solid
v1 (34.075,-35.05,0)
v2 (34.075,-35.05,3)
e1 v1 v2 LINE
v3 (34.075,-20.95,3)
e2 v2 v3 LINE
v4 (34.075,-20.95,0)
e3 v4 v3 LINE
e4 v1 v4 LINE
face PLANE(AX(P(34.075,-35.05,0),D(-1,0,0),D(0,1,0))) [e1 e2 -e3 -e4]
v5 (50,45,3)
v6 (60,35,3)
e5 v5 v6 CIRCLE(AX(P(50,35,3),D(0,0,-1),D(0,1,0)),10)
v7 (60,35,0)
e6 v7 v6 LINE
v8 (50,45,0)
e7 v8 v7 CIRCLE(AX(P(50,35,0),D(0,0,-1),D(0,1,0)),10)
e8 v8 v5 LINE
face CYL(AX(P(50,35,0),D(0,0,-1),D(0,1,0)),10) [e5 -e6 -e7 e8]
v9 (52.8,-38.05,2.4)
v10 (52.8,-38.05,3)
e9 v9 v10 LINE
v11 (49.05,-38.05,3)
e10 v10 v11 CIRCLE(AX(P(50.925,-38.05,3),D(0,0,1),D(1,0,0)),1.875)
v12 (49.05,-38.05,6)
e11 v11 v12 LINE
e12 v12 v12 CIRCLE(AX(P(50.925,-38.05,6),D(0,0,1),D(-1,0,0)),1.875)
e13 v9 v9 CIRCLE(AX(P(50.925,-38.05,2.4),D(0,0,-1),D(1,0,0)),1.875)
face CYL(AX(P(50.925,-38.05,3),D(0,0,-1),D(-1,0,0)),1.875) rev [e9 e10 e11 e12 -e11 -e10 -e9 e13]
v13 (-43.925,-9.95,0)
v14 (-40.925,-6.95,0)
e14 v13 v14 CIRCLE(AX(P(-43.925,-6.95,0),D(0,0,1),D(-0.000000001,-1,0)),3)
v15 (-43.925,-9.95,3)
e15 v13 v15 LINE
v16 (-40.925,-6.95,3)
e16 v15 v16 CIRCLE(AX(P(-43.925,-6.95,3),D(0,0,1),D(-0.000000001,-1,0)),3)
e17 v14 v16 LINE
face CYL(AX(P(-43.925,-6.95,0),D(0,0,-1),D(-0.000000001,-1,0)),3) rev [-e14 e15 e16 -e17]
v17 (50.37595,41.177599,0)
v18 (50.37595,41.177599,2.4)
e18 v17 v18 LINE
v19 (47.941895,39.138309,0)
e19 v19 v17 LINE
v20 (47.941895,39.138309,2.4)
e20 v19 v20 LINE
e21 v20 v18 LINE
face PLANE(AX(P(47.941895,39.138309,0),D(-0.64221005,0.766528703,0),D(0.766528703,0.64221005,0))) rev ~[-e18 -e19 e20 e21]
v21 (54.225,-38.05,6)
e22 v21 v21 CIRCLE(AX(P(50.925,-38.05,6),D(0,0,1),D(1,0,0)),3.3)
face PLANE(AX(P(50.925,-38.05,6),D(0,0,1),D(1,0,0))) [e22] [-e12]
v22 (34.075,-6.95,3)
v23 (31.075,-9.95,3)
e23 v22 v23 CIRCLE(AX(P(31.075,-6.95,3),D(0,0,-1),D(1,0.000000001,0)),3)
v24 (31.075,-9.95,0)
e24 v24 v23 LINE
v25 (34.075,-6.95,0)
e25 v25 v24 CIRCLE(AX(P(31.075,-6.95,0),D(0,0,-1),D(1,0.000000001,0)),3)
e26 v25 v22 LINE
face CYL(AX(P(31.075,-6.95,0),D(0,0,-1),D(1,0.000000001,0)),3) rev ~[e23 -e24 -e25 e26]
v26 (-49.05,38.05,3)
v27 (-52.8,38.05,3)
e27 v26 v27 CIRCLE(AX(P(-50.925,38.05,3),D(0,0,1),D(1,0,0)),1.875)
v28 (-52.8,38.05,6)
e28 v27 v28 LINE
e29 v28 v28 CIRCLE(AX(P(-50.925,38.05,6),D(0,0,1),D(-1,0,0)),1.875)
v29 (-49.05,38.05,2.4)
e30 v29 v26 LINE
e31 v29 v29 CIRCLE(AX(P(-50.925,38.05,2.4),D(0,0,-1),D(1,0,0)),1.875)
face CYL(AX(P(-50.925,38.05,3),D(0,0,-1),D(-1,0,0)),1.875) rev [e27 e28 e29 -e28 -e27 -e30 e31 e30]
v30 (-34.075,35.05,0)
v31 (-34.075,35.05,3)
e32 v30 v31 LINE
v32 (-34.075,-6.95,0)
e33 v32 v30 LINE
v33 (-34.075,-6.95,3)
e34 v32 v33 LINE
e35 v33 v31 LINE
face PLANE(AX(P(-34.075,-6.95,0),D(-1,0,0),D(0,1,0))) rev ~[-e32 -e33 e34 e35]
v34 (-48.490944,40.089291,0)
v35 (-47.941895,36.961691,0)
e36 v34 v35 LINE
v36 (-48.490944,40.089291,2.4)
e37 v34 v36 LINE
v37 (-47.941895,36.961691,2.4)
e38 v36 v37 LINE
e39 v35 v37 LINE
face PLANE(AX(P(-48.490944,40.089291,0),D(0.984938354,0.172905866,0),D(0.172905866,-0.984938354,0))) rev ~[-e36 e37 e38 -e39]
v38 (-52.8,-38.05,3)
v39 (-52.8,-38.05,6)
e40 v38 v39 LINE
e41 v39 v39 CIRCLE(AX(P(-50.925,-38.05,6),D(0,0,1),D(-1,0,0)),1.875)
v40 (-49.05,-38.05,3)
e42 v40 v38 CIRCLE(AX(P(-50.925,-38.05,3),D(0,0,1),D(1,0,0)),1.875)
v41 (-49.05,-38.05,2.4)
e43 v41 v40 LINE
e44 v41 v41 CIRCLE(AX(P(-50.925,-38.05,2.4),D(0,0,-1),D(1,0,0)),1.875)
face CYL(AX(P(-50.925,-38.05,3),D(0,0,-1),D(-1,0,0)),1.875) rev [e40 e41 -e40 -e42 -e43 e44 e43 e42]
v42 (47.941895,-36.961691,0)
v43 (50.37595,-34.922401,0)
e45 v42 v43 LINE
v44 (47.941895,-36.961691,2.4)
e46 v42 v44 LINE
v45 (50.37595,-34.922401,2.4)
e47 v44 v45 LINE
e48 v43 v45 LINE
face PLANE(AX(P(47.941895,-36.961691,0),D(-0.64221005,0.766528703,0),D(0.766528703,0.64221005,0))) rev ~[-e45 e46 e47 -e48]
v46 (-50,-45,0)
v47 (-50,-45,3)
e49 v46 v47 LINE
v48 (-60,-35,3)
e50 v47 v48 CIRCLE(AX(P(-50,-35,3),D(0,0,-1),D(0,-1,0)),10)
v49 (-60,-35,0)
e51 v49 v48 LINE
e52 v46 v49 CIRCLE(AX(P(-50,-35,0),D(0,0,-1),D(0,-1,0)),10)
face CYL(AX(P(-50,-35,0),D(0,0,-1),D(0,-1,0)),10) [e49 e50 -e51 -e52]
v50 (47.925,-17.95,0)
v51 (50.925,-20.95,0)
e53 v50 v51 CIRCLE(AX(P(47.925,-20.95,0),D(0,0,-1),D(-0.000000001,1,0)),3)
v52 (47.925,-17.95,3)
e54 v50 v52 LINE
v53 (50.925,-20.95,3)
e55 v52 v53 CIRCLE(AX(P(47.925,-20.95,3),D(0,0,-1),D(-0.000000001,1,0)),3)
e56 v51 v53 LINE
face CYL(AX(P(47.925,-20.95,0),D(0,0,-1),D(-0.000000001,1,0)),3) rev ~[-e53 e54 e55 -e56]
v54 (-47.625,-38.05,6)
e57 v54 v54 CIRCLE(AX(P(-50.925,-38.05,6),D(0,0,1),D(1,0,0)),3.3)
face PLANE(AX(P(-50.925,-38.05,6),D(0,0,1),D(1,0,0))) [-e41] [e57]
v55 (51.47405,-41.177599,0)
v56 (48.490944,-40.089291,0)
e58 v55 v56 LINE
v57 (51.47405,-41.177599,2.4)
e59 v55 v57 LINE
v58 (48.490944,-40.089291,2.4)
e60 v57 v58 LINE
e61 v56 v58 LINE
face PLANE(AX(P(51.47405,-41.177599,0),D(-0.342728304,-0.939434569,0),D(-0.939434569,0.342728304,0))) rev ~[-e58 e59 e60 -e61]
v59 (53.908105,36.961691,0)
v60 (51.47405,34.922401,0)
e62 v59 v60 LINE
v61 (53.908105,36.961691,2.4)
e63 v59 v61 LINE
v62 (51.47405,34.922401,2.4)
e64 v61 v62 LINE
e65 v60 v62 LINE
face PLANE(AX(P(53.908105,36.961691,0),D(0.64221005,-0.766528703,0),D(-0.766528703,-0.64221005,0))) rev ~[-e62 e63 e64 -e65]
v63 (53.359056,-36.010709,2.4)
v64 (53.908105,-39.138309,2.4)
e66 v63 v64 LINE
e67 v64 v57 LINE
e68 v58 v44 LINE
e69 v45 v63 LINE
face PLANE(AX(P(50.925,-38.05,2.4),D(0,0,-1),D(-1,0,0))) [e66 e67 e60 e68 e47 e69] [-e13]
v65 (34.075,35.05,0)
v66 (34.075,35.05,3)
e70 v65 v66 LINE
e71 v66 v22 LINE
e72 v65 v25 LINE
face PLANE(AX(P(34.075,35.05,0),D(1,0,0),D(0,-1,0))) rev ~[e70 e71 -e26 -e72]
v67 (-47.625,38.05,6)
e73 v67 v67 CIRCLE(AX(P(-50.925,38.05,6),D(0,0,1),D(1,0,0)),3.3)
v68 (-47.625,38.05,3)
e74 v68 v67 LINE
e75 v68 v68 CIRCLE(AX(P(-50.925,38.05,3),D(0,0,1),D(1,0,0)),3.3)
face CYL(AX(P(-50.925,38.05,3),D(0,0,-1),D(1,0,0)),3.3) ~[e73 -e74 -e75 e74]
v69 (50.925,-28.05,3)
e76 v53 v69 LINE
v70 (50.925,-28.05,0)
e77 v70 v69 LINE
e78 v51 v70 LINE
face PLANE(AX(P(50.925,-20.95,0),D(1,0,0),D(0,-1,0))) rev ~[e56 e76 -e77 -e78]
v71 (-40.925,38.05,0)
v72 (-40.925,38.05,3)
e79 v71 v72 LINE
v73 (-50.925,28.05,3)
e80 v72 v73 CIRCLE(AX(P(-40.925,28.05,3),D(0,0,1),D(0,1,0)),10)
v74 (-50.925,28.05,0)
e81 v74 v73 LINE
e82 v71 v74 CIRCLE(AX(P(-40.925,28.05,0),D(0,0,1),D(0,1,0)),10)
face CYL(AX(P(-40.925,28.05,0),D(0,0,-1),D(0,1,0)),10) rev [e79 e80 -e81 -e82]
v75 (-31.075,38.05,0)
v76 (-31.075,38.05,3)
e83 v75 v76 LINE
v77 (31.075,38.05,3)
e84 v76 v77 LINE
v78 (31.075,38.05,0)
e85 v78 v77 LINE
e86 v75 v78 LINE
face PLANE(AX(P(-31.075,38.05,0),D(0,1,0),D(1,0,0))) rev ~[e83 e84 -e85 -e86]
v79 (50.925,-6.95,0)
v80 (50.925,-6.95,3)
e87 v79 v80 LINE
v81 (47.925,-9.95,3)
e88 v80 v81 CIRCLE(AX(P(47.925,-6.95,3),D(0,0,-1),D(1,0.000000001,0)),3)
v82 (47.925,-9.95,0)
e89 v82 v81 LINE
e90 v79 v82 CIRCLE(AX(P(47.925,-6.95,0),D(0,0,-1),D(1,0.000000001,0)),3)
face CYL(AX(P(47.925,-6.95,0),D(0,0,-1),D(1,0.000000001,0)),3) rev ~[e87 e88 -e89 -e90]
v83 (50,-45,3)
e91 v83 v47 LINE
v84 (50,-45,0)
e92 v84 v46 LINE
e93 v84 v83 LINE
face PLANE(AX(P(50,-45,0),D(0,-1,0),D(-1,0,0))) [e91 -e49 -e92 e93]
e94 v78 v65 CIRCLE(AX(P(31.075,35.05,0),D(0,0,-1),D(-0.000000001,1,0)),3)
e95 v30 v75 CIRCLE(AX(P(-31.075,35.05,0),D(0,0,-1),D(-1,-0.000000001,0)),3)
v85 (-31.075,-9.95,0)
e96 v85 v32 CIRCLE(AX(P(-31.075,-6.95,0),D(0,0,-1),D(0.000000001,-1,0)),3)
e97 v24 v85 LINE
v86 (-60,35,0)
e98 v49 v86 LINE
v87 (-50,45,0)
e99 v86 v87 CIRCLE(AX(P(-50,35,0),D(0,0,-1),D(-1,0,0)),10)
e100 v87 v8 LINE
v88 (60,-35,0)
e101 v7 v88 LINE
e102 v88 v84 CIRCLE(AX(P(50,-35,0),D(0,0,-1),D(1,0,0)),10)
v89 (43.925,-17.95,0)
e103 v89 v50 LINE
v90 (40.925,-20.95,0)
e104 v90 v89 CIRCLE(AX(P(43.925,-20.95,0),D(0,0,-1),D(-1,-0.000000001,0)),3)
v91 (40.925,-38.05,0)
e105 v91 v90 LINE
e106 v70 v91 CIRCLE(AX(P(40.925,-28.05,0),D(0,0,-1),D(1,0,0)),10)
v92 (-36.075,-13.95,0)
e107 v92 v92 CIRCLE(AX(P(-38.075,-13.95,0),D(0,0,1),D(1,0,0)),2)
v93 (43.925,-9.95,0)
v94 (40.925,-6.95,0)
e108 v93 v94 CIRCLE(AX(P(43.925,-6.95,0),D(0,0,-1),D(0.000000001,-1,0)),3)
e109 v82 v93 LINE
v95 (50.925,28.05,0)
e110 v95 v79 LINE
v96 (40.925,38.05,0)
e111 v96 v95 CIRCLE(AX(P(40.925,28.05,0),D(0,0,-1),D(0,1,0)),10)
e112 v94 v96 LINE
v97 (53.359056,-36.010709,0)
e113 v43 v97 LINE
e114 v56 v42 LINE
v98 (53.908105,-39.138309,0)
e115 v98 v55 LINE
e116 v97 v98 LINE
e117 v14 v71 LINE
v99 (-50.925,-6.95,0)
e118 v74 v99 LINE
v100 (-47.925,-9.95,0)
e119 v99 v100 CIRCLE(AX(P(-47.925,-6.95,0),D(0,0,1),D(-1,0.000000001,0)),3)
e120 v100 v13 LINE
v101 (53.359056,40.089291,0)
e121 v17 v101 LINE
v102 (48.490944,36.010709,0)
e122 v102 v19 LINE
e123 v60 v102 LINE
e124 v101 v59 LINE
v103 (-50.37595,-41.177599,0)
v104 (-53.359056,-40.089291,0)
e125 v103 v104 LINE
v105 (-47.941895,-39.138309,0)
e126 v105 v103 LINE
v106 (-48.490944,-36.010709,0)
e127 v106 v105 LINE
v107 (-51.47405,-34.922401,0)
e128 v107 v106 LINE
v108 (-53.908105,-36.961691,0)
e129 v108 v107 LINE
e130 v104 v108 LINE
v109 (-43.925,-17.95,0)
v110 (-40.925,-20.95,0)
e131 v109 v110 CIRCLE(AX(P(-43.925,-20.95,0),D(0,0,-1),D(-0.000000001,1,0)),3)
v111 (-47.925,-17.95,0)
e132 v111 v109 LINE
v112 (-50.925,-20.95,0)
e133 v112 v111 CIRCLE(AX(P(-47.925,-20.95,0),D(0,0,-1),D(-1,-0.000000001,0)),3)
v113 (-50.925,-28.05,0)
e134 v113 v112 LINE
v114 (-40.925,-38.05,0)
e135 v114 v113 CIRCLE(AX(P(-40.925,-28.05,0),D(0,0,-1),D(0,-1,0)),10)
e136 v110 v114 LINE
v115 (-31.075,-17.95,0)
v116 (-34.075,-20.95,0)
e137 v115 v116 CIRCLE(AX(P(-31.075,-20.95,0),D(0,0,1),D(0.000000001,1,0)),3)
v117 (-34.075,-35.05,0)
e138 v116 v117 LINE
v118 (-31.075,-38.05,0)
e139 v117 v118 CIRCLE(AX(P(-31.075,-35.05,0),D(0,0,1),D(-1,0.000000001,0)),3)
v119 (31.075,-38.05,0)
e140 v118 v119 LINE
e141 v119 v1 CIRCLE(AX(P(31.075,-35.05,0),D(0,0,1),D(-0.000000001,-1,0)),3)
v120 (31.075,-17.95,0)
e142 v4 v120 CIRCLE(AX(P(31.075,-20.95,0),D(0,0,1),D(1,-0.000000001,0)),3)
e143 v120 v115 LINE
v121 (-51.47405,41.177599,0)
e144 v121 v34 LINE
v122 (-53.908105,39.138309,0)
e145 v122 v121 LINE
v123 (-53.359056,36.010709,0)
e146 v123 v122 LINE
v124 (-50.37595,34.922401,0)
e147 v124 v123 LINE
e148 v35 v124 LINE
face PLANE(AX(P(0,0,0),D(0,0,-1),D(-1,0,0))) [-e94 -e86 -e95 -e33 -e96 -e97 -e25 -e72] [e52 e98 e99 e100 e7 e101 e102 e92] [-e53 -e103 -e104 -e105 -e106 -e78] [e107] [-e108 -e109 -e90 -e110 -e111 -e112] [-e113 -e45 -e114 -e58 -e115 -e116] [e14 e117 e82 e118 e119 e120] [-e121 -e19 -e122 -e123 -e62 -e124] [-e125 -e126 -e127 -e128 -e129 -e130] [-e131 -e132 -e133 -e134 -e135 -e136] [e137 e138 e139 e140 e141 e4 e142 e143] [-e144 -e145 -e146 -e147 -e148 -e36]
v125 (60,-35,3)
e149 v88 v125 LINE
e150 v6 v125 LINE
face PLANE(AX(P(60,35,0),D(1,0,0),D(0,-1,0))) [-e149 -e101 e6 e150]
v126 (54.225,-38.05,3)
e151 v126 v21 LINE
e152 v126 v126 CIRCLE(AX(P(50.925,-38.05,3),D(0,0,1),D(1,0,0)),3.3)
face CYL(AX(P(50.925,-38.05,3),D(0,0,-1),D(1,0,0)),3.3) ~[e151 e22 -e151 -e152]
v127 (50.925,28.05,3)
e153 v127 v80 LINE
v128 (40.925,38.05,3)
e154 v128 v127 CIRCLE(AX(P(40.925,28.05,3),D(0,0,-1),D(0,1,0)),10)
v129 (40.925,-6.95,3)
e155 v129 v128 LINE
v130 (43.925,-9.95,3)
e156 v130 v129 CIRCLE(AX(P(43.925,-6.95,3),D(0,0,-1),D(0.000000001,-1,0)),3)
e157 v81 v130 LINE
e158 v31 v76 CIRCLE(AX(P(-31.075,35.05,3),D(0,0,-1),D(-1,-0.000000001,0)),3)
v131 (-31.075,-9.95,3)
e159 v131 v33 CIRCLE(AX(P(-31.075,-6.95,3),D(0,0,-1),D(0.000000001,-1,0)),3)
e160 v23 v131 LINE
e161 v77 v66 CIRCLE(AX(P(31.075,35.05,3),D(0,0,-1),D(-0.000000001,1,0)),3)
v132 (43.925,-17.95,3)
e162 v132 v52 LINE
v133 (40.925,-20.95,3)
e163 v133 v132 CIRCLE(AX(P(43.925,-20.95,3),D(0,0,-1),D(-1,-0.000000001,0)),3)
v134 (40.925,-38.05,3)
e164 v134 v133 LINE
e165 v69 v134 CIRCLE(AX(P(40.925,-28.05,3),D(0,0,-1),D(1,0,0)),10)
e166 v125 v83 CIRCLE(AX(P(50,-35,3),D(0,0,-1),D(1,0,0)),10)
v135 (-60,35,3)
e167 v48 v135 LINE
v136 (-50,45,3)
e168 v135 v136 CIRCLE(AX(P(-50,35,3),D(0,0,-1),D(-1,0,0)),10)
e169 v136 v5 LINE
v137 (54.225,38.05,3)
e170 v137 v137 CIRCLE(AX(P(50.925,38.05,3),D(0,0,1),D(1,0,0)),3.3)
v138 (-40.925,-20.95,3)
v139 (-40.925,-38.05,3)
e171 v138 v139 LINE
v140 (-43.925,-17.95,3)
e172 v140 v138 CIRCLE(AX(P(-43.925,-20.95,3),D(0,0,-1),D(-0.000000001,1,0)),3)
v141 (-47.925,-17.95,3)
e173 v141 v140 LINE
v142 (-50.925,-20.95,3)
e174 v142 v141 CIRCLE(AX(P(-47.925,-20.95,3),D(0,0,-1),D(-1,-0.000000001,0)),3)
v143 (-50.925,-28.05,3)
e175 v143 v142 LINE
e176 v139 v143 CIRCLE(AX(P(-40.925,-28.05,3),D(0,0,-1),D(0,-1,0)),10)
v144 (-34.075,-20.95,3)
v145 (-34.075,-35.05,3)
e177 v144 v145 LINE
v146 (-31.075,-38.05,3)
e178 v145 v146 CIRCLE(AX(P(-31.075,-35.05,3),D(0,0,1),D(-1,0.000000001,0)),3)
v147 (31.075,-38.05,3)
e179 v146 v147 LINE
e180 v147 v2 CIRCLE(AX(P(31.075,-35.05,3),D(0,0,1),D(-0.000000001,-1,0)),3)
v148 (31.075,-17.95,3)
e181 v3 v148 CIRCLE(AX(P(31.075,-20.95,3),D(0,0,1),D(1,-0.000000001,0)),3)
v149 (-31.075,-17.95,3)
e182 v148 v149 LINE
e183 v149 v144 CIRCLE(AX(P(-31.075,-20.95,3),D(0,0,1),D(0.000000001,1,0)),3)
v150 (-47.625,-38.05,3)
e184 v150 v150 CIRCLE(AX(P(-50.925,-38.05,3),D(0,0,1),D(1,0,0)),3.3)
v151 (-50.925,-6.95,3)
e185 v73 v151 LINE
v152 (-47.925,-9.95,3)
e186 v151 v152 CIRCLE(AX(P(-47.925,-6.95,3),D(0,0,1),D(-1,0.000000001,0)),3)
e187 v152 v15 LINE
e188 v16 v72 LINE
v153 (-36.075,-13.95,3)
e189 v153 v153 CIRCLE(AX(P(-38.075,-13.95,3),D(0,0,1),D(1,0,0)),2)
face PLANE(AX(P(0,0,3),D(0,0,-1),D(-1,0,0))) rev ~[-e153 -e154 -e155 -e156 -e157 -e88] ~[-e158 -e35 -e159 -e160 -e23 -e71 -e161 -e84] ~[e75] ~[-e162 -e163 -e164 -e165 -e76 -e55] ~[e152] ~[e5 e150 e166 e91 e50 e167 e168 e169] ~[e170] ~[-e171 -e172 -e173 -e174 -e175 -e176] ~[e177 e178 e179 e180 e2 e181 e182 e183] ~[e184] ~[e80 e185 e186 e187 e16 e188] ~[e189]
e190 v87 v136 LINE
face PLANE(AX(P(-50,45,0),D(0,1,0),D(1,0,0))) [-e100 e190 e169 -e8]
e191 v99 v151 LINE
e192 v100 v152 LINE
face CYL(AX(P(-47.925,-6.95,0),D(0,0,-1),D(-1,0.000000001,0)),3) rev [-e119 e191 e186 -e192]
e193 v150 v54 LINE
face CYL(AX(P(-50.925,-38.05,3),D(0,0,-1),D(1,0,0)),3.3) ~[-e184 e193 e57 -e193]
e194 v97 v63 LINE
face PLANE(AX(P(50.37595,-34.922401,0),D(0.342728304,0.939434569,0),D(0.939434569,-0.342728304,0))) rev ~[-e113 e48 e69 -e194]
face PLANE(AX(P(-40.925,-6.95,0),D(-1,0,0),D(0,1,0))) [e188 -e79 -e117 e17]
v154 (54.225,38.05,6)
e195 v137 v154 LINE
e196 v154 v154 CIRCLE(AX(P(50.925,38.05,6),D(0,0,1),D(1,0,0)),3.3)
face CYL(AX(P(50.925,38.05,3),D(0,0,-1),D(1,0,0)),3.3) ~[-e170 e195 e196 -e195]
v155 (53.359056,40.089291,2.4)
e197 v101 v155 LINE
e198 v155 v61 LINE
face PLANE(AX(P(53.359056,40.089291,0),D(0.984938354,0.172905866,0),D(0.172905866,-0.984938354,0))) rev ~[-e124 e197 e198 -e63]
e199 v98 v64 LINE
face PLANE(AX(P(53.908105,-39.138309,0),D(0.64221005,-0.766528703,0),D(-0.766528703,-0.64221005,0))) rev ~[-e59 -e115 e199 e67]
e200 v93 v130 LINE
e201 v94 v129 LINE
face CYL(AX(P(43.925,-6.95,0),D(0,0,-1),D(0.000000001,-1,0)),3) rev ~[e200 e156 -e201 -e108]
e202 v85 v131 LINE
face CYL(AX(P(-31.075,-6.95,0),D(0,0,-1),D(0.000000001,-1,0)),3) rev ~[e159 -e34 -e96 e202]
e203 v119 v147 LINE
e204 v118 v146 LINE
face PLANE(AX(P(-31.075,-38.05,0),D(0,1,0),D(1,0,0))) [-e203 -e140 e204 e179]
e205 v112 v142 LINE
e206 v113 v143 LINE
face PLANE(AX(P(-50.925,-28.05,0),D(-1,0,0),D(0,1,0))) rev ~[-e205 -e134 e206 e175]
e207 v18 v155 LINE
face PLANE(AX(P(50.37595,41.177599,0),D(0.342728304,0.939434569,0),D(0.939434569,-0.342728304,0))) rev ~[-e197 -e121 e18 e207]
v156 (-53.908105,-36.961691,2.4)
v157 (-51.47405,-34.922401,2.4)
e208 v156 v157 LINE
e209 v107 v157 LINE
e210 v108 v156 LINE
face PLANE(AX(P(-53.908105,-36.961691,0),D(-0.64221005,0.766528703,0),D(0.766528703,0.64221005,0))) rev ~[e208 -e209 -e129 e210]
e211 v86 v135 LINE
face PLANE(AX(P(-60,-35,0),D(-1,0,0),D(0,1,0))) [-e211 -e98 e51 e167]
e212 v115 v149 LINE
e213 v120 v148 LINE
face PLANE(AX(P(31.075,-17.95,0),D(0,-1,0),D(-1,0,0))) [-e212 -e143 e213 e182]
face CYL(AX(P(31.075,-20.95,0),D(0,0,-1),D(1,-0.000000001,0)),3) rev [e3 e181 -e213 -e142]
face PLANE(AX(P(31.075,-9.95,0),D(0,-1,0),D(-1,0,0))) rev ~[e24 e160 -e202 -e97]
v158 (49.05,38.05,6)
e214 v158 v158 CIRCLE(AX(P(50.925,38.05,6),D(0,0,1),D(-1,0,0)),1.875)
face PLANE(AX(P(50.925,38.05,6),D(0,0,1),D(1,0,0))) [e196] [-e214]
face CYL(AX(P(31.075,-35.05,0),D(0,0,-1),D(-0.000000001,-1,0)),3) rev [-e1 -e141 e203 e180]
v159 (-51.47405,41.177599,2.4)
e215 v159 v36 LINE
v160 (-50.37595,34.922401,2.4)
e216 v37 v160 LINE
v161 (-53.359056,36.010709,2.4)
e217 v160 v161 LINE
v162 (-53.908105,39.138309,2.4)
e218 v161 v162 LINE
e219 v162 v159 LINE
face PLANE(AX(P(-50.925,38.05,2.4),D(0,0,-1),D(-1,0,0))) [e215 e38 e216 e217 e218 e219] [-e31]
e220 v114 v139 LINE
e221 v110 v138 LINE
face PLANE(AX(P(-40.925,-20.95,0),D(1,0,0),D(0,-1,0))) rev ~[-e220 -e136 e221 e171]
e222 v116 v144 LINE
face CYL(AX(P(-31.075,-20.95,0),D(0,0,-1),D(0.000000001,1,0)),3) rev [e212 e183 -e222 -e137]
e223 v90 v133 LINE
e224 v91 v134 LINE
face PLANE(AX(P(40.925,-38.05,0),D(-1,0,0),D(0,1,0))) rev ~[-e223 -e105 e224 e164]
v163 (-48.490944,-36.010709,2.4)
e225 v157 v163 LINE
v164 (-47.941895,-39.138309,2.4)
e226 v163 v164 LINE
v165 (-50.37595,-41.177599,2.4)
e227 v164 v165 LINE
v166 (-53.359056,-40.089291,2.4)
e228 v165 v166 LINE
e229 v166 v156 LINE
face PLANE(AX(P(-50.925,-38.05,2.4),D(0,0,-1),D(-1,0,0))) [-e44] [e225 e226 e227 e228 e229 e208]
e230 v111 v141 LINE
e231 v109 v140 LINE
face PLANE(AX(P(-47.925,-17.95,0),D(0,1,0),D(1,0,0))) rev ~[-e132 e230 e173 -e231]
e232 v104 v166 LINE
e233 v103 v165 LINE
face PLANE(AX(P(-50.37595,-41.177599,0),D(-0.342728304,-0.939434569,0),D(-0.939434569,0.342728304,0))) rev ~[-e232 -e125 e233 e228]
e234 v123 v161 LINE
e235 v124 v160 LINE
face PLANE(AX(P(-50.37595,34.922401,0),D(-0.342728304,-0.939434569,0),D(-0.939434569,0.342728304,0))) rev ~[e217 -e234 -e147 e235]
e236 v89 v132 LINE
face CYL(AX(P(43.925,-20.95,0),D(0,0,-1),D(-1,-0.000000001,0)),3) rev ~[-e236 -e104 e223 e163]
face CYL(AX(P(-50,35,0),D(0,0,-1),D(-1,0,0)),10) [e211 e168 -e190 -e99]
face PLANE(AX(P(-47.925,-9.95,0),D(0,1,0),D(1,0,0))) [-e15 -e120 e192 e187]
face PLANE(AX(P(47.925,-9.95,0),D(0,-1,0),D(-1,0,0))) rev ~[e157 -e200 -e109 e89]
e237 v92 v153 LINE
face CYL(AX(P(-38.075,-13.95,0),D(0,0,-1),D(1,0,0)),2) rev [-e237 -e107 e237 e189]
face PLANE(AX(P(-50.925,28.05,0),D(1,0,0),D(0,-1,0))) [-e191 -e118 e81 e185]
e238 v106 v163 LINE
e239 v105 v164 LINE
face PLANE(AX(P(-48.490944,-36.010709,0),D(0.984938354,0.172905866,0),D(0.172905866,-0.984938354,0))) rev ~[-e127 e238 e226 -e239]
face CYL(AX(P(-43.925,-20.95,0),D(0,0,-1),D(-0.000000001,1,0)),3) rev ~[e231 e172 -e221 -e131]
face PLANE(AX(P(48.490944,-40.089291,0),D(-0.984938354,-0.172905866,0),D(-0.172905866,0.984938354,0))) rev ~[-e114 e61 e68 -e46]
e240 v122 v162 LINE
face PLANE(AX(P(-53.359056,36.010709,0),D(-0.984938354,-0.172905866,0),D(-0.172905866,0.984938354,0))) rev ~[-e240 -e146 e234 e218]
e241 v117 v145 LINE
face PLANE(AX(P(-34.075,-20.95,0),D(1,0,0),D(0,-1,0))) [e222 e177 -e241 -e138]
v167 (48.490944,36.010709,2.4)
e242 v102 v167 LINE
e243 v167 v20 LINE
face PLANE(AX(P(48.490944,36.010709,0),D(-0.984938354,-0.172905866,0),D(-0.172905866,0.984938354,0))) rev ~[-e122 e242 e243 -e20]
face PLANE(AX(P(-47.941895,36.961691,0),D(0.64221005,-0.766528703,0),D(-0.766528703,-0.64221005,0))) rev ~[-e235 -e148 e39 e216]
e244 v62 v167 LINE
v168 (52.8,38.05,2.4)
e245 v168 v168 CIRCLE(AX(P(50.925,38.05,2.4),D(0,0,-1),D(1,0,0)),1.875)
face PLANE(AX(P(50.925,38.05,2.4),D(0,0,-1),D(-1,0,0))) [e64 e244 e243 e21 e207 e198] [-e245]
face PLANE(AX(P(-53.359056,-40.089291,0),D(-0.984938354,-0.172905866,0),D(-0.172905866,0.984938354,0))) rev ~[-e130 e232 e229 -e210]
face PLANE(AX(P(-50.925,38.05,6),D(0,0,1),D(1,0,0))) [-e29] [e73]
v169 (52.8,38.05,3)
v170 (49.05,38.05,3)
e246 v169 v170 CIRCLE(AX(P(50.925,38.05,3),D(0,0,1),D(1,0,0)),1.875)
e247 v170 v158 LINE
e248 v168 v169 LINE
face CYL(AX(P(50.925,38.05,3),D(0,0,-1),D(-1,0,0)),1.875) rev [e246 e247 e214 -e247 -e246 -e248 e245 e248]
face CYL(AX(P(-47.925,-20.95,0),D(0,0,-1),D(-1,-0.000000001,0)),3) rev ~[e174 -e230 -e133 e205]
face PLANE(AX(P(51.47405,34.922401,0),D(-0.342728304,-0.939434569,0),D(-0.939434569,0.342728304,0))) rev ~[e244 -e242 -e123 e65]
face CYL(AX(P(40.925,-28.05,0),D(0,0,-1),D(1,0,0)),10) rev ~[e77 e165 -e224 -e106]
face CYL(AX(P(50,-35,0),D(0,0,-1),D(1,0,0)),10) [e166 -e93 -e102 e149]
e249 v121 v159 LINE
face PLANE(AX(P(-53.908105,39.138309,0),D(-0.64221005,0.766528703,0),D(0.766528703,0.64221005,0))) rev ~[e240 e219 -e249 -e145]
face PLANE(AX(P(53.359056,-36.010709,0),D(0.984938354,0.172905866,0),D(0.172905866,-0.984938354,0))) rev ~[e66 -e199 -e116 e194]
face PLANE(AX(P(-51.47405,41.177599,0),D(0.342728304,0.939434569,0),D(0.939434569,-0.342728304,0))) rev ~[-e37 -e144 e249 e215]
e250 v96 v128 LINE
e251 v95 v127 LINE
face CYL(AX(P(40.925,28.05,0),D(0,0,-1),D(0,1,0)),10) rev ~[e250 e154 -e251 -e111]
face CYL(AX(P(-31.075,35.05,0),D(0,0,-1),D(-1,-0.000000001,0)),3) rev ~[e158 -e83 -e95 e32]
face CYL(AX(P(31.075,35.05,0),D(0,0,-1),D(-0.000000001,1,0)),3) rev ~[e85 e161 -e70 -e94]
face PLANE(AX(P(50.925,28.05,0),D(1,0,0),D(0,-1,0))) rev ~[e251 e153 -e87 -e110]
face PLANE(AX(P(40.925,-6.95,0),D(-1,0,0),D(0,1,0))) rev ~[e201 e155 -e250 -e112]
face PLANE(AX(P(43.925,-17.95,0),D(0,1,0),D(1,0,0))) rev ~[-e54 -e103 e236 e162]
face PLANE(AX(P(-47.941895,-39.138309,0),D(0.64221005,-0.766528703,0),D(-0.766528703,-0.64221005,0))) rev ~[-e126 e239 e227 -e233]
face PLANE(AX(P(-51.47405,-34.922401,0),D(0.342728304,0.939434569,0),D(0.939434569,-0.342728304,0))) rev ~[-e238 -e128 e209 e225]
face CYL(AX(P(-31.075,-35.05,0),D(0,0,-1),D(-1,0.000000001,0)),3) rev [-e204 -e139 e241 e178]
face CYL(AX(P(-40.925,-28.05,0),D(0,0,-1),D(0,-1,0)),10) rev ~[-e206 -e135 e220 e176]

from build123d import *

# Parameters (mm, degrees)
IZIM1_R                     = 1.875
IZIM1_R_2                   = 2
Y_KSEKLIK_EKSTR_ZYON2_DEPTH = 3
KES_EKSTR_ZYON1_DEPTH       = 2.4
IZIM3_R                     = 3.3
IZIM3_R_2                   = 1.875
Y_KSEKLIK_EKSTR_ZYON3_DEPTH = 3


with BuildPart() as part:
    # Çizim1 → Yükseklik-Ekstrüzyon2 (new body)
    with BuildSketch(Plane.XY):
        with BuildLine():
            Line((-50, 45), (50, 45))
            ThreePointArc((50, 45), (57.071067812, 42.071067812), (60, 35))
            Line((60, 35), (60, -35))
            ThreePointArc((60, -35), (57.071067812, -42.071067812), (50, -45))
            Line((50, -45), (-50, -45))
            ThreePointArc((-50, -45), (-57.071067812, -42.071067812), (-60, -35))
            Line((-60, -35), (-60, 35))
            ThreePointArc((-60, 35), (-57.071067812, 42.071067812), (-50, 45))
        make_face()
        with Locations((-50.925, 38.05)):
            Circle(IZIM1_R, mode=Mode.SUBTRACT)
        with Locations((50.925, 38.05)):
            Circle(IZIM1_R, mode=Mode.SUBTRACT)
        with Locations((-50.925, -38.05)):
            Circle(IZIM1_R, mode=Mode.SUBTRACT)
        with Locations((50.925, -38.05)):
            Circle(IZIM1_R, mode=Mode.SUBTRACT)
        with Locations((-38.075, -13.95)):
            Circle(IZIM1_R_2, mode=Mode.SUBTRACT)
        with BuildLine():
            Line((-31.075, -38.05), (31.075, -38.05))
            ThreePointArc((31.075, -38.05), (33.196320344, -37.171320344), (34.075, -35.05))
            Line((34.075, -35.05), (34.075, -20.95))
            ThreePointArc((34.075, -20.95), (33.196320344, -18.828679656), (31.075, -17.95))
            Line((31.075, -17.95), (-31.075, -17.95))
            ThreePointArc((-31.075, -17.95), (-33.196320344, -18.828679656), (-34.075, -20.95))
            Line((-34.075, -20.95), (-34.075, -35.05))
            ThreePointArc((-34.075, -35.05), (-33.196320344, -37.171320344), (-31.075, -38.05))
        make_face(mode=Mode.SUBTRACT)
        with BuildLine():
            Line((50.925, 28.05), (50.925, -6.95))
            ThreePointArc((50.925, -6.95), (50.046320344, -9.071320344), (47.925, -9.95))
            Line((47.925, -9.95), (43.925, -9.95))
            ThreePointArc((43.925, -9.95), (41.803679656, -9.071320344), (40.925, -6.95))
            Line((40.925, -6.95), (40.925, 38.05))
            ThreePointArc((40.925, 38.05), (47.996067812, 35.121067812), (50.925, 28.05))
        make_face(mode=Mode.SUBTRACT)
        with BuildLine():
            Line((-31.075, 38.05), (31.075, 38.05))
            ThreePointArc((31.075, 38.05), (33.196320344, 37.171320344), (34.075, 35.05))
            Line((34.075, 35.05), (34.075, -6.95))
            ThreePointArc((34.075, -6.95), (33.196320344, -9.071320344), (31.075, -9.95))
            Line((31.075, -9.95), (-31.075, -9.95))
            ThreePointArc((-31.075, -9.95), (-33.196320344, -9.071320344), (-34.075, -6.95))
            Line((-34.075, -6.95), (-34.075, 35.05))
            ThreePointArc((-34.075, 35.05), (-33.196320344, 37.171320344), (-31.075, 38.05))
        make_face(mode=Mode.SUBTRACT)
        with BuildLine():
            Line((-50.925, 28.05), (-50.925, -6.95))
            ThreePointArc((-50.925, -6.95), (-50.046320344, -9.071320344), (-47.925, -9.95))
            Line((-47.925, -9.95), (-43.925, -9.95))
            ThreePointArc((-43.925, -9.95), (-41.803679656, -9.071320344), (-40.925, -6.95))
            Line((-40.925, -6.95), (-40.925, 38.05))
            ThreePointArc((-40.925, 38.05), (-47.996067812, 35.121067812), (-50.925, 28.05))
        make_face(mode=Mode.SUBTRACT)
        with BuildLine():
            Line((-47.925, -17.95), (-43.925, -17.95))
            ThreePointArc((-43.925, -17.95), (-41.803679656, -18.828679656), (-40.925, -20.95))
            Line((-40.925, -20.95), (-40.925, -38.05))
            ThreePointArc((-40.925, -38.05), (-47.996067812, -35.121067812), (-50.925, -28.05))
            Line((-50.925, -28.05), (-50.925, -20.95))
            ThreePointArc((-50.925, -20.95), (-50.046320344, -18.828679656), (-47.925, -17.95))
        make_face(mode=Mode.SUBTRACT)
        with BuildLine():
            Line((50.925, -20.95), (50.925, -28.05))
            ThreePointArc((50.925, -28.05), (47.996067812, -35.121067812), (40.925, -38.05))
            Line((40.925, -38.05), (40.925, -20.95))
            ThreePointArc((40.925, -20.95), (41.803679656, -18.828679656), (43.925, -17.95))
            Line((43.925, -17.95), (47.925, -17.95))
            ThreePointArc((47.925, -17.95), (50.046320344, -18.828679656), (50.925, -20.95))
        make_face(mode=Mode.SUBTRACT)
    extrude(amount=Y_KSEKLIK_EKSTR_ZYON2_DEPTH)

    # Çizim2 → Kes-Ekstrüzyon1 (cut)
    with BuildSketch(Plane(origin=(0, 0, 0), x_dir=(-1, 0, 0), z_dir=(0, 0, -1))):
        Polygon((-53.35905554, -36.010709201), (-53.908105407, -39.138308533), (-51.474049867, -41.177599331), (-48.49094446, -40.089290799), (-47.941894593, -36.961691467), (-50.375950133, -34.922400669), align=None)
        Polygon((48.49094446, -36.010709201), (47.941894593, -39.138308533), (50.375950133, -41.177599331), (53.35905554, -40.089290799), (53.908105407, -36.961691467), (51.474049867, -34.922400669), align=None)
        Polygon((48.49094446, 40.089290799), (47.941894593, 36.961691467), (50.375950133, 34.922400669), (53.35905554, 36.010709201), (53.908105407, 39.138308533), (51.474049867, 41.177599331), align=None)
        Polygon((-53.35905554, 40.089290799), (-53.908105407, 36.961691467), (-51.474049867, 34.922400669), (-48.49094446, 36.010709201), (-47.941894593, 39.138308533), (-50.375950133, 41.177599331), align=None)
    extrude(amount=-KES_EKSTR_ZYON1_DEPTH, mode=Mode.SUBTRACT)

    # Çizim3 → Yükseklik-Ekstrüzyon3 (add)
    # profile 1 of 4: a face of its own
    with BuildSketch(Plane.XY.offset(3)):
        with Locations((-50.925, 38.05)):
            Circle(IZIM3_R)
        with Locations(Location((-50.925, 38.05, 0), (0, 0, 180))):
            Circle(IZIM3_R_2, mode=Mode.SUBTRACT)
    # profile 2 of 4: a face of its own
    with BuildSketch(Plane.XY.offset(3)):
        with Locations((50.925, 38.05)):
            Circle(IZIM3_R)
        with Locations(Location((50.925, 38.05, 0), (0, 0, 180))):
            Circle(IZIM3_R_2, mode=Mode.SUBTRACT)
    # profile 3 of 4: a face of its own
    with BuildSketch(Plane.XY.offset(3)):
        with Locations((-50.925, -38.05)):
            Circle(IZIM3_R)
        with Locations(Location((-50.925, -38.05, 0), (0, 0, 180))):
            Circle(IZIM3_R_2, mode=Mode.SUBTRACT)
    # profile 4 of 4: a face of its own
    with BuildSketch(Plane.XY.offset(3)):
        with Locations((50.925, -38.05)):
            Circle(IZIM3_R)
        with Locations(Location((50.925, -38.05, 0), (0, 0, 180))):
            Circle(IZIM3_R_2, mode=Mode.SUBTRACT)
    extrude(amount=Y_KSEKLIK_EKSTR_ZYON3_DEPTH)


solid = part.part
